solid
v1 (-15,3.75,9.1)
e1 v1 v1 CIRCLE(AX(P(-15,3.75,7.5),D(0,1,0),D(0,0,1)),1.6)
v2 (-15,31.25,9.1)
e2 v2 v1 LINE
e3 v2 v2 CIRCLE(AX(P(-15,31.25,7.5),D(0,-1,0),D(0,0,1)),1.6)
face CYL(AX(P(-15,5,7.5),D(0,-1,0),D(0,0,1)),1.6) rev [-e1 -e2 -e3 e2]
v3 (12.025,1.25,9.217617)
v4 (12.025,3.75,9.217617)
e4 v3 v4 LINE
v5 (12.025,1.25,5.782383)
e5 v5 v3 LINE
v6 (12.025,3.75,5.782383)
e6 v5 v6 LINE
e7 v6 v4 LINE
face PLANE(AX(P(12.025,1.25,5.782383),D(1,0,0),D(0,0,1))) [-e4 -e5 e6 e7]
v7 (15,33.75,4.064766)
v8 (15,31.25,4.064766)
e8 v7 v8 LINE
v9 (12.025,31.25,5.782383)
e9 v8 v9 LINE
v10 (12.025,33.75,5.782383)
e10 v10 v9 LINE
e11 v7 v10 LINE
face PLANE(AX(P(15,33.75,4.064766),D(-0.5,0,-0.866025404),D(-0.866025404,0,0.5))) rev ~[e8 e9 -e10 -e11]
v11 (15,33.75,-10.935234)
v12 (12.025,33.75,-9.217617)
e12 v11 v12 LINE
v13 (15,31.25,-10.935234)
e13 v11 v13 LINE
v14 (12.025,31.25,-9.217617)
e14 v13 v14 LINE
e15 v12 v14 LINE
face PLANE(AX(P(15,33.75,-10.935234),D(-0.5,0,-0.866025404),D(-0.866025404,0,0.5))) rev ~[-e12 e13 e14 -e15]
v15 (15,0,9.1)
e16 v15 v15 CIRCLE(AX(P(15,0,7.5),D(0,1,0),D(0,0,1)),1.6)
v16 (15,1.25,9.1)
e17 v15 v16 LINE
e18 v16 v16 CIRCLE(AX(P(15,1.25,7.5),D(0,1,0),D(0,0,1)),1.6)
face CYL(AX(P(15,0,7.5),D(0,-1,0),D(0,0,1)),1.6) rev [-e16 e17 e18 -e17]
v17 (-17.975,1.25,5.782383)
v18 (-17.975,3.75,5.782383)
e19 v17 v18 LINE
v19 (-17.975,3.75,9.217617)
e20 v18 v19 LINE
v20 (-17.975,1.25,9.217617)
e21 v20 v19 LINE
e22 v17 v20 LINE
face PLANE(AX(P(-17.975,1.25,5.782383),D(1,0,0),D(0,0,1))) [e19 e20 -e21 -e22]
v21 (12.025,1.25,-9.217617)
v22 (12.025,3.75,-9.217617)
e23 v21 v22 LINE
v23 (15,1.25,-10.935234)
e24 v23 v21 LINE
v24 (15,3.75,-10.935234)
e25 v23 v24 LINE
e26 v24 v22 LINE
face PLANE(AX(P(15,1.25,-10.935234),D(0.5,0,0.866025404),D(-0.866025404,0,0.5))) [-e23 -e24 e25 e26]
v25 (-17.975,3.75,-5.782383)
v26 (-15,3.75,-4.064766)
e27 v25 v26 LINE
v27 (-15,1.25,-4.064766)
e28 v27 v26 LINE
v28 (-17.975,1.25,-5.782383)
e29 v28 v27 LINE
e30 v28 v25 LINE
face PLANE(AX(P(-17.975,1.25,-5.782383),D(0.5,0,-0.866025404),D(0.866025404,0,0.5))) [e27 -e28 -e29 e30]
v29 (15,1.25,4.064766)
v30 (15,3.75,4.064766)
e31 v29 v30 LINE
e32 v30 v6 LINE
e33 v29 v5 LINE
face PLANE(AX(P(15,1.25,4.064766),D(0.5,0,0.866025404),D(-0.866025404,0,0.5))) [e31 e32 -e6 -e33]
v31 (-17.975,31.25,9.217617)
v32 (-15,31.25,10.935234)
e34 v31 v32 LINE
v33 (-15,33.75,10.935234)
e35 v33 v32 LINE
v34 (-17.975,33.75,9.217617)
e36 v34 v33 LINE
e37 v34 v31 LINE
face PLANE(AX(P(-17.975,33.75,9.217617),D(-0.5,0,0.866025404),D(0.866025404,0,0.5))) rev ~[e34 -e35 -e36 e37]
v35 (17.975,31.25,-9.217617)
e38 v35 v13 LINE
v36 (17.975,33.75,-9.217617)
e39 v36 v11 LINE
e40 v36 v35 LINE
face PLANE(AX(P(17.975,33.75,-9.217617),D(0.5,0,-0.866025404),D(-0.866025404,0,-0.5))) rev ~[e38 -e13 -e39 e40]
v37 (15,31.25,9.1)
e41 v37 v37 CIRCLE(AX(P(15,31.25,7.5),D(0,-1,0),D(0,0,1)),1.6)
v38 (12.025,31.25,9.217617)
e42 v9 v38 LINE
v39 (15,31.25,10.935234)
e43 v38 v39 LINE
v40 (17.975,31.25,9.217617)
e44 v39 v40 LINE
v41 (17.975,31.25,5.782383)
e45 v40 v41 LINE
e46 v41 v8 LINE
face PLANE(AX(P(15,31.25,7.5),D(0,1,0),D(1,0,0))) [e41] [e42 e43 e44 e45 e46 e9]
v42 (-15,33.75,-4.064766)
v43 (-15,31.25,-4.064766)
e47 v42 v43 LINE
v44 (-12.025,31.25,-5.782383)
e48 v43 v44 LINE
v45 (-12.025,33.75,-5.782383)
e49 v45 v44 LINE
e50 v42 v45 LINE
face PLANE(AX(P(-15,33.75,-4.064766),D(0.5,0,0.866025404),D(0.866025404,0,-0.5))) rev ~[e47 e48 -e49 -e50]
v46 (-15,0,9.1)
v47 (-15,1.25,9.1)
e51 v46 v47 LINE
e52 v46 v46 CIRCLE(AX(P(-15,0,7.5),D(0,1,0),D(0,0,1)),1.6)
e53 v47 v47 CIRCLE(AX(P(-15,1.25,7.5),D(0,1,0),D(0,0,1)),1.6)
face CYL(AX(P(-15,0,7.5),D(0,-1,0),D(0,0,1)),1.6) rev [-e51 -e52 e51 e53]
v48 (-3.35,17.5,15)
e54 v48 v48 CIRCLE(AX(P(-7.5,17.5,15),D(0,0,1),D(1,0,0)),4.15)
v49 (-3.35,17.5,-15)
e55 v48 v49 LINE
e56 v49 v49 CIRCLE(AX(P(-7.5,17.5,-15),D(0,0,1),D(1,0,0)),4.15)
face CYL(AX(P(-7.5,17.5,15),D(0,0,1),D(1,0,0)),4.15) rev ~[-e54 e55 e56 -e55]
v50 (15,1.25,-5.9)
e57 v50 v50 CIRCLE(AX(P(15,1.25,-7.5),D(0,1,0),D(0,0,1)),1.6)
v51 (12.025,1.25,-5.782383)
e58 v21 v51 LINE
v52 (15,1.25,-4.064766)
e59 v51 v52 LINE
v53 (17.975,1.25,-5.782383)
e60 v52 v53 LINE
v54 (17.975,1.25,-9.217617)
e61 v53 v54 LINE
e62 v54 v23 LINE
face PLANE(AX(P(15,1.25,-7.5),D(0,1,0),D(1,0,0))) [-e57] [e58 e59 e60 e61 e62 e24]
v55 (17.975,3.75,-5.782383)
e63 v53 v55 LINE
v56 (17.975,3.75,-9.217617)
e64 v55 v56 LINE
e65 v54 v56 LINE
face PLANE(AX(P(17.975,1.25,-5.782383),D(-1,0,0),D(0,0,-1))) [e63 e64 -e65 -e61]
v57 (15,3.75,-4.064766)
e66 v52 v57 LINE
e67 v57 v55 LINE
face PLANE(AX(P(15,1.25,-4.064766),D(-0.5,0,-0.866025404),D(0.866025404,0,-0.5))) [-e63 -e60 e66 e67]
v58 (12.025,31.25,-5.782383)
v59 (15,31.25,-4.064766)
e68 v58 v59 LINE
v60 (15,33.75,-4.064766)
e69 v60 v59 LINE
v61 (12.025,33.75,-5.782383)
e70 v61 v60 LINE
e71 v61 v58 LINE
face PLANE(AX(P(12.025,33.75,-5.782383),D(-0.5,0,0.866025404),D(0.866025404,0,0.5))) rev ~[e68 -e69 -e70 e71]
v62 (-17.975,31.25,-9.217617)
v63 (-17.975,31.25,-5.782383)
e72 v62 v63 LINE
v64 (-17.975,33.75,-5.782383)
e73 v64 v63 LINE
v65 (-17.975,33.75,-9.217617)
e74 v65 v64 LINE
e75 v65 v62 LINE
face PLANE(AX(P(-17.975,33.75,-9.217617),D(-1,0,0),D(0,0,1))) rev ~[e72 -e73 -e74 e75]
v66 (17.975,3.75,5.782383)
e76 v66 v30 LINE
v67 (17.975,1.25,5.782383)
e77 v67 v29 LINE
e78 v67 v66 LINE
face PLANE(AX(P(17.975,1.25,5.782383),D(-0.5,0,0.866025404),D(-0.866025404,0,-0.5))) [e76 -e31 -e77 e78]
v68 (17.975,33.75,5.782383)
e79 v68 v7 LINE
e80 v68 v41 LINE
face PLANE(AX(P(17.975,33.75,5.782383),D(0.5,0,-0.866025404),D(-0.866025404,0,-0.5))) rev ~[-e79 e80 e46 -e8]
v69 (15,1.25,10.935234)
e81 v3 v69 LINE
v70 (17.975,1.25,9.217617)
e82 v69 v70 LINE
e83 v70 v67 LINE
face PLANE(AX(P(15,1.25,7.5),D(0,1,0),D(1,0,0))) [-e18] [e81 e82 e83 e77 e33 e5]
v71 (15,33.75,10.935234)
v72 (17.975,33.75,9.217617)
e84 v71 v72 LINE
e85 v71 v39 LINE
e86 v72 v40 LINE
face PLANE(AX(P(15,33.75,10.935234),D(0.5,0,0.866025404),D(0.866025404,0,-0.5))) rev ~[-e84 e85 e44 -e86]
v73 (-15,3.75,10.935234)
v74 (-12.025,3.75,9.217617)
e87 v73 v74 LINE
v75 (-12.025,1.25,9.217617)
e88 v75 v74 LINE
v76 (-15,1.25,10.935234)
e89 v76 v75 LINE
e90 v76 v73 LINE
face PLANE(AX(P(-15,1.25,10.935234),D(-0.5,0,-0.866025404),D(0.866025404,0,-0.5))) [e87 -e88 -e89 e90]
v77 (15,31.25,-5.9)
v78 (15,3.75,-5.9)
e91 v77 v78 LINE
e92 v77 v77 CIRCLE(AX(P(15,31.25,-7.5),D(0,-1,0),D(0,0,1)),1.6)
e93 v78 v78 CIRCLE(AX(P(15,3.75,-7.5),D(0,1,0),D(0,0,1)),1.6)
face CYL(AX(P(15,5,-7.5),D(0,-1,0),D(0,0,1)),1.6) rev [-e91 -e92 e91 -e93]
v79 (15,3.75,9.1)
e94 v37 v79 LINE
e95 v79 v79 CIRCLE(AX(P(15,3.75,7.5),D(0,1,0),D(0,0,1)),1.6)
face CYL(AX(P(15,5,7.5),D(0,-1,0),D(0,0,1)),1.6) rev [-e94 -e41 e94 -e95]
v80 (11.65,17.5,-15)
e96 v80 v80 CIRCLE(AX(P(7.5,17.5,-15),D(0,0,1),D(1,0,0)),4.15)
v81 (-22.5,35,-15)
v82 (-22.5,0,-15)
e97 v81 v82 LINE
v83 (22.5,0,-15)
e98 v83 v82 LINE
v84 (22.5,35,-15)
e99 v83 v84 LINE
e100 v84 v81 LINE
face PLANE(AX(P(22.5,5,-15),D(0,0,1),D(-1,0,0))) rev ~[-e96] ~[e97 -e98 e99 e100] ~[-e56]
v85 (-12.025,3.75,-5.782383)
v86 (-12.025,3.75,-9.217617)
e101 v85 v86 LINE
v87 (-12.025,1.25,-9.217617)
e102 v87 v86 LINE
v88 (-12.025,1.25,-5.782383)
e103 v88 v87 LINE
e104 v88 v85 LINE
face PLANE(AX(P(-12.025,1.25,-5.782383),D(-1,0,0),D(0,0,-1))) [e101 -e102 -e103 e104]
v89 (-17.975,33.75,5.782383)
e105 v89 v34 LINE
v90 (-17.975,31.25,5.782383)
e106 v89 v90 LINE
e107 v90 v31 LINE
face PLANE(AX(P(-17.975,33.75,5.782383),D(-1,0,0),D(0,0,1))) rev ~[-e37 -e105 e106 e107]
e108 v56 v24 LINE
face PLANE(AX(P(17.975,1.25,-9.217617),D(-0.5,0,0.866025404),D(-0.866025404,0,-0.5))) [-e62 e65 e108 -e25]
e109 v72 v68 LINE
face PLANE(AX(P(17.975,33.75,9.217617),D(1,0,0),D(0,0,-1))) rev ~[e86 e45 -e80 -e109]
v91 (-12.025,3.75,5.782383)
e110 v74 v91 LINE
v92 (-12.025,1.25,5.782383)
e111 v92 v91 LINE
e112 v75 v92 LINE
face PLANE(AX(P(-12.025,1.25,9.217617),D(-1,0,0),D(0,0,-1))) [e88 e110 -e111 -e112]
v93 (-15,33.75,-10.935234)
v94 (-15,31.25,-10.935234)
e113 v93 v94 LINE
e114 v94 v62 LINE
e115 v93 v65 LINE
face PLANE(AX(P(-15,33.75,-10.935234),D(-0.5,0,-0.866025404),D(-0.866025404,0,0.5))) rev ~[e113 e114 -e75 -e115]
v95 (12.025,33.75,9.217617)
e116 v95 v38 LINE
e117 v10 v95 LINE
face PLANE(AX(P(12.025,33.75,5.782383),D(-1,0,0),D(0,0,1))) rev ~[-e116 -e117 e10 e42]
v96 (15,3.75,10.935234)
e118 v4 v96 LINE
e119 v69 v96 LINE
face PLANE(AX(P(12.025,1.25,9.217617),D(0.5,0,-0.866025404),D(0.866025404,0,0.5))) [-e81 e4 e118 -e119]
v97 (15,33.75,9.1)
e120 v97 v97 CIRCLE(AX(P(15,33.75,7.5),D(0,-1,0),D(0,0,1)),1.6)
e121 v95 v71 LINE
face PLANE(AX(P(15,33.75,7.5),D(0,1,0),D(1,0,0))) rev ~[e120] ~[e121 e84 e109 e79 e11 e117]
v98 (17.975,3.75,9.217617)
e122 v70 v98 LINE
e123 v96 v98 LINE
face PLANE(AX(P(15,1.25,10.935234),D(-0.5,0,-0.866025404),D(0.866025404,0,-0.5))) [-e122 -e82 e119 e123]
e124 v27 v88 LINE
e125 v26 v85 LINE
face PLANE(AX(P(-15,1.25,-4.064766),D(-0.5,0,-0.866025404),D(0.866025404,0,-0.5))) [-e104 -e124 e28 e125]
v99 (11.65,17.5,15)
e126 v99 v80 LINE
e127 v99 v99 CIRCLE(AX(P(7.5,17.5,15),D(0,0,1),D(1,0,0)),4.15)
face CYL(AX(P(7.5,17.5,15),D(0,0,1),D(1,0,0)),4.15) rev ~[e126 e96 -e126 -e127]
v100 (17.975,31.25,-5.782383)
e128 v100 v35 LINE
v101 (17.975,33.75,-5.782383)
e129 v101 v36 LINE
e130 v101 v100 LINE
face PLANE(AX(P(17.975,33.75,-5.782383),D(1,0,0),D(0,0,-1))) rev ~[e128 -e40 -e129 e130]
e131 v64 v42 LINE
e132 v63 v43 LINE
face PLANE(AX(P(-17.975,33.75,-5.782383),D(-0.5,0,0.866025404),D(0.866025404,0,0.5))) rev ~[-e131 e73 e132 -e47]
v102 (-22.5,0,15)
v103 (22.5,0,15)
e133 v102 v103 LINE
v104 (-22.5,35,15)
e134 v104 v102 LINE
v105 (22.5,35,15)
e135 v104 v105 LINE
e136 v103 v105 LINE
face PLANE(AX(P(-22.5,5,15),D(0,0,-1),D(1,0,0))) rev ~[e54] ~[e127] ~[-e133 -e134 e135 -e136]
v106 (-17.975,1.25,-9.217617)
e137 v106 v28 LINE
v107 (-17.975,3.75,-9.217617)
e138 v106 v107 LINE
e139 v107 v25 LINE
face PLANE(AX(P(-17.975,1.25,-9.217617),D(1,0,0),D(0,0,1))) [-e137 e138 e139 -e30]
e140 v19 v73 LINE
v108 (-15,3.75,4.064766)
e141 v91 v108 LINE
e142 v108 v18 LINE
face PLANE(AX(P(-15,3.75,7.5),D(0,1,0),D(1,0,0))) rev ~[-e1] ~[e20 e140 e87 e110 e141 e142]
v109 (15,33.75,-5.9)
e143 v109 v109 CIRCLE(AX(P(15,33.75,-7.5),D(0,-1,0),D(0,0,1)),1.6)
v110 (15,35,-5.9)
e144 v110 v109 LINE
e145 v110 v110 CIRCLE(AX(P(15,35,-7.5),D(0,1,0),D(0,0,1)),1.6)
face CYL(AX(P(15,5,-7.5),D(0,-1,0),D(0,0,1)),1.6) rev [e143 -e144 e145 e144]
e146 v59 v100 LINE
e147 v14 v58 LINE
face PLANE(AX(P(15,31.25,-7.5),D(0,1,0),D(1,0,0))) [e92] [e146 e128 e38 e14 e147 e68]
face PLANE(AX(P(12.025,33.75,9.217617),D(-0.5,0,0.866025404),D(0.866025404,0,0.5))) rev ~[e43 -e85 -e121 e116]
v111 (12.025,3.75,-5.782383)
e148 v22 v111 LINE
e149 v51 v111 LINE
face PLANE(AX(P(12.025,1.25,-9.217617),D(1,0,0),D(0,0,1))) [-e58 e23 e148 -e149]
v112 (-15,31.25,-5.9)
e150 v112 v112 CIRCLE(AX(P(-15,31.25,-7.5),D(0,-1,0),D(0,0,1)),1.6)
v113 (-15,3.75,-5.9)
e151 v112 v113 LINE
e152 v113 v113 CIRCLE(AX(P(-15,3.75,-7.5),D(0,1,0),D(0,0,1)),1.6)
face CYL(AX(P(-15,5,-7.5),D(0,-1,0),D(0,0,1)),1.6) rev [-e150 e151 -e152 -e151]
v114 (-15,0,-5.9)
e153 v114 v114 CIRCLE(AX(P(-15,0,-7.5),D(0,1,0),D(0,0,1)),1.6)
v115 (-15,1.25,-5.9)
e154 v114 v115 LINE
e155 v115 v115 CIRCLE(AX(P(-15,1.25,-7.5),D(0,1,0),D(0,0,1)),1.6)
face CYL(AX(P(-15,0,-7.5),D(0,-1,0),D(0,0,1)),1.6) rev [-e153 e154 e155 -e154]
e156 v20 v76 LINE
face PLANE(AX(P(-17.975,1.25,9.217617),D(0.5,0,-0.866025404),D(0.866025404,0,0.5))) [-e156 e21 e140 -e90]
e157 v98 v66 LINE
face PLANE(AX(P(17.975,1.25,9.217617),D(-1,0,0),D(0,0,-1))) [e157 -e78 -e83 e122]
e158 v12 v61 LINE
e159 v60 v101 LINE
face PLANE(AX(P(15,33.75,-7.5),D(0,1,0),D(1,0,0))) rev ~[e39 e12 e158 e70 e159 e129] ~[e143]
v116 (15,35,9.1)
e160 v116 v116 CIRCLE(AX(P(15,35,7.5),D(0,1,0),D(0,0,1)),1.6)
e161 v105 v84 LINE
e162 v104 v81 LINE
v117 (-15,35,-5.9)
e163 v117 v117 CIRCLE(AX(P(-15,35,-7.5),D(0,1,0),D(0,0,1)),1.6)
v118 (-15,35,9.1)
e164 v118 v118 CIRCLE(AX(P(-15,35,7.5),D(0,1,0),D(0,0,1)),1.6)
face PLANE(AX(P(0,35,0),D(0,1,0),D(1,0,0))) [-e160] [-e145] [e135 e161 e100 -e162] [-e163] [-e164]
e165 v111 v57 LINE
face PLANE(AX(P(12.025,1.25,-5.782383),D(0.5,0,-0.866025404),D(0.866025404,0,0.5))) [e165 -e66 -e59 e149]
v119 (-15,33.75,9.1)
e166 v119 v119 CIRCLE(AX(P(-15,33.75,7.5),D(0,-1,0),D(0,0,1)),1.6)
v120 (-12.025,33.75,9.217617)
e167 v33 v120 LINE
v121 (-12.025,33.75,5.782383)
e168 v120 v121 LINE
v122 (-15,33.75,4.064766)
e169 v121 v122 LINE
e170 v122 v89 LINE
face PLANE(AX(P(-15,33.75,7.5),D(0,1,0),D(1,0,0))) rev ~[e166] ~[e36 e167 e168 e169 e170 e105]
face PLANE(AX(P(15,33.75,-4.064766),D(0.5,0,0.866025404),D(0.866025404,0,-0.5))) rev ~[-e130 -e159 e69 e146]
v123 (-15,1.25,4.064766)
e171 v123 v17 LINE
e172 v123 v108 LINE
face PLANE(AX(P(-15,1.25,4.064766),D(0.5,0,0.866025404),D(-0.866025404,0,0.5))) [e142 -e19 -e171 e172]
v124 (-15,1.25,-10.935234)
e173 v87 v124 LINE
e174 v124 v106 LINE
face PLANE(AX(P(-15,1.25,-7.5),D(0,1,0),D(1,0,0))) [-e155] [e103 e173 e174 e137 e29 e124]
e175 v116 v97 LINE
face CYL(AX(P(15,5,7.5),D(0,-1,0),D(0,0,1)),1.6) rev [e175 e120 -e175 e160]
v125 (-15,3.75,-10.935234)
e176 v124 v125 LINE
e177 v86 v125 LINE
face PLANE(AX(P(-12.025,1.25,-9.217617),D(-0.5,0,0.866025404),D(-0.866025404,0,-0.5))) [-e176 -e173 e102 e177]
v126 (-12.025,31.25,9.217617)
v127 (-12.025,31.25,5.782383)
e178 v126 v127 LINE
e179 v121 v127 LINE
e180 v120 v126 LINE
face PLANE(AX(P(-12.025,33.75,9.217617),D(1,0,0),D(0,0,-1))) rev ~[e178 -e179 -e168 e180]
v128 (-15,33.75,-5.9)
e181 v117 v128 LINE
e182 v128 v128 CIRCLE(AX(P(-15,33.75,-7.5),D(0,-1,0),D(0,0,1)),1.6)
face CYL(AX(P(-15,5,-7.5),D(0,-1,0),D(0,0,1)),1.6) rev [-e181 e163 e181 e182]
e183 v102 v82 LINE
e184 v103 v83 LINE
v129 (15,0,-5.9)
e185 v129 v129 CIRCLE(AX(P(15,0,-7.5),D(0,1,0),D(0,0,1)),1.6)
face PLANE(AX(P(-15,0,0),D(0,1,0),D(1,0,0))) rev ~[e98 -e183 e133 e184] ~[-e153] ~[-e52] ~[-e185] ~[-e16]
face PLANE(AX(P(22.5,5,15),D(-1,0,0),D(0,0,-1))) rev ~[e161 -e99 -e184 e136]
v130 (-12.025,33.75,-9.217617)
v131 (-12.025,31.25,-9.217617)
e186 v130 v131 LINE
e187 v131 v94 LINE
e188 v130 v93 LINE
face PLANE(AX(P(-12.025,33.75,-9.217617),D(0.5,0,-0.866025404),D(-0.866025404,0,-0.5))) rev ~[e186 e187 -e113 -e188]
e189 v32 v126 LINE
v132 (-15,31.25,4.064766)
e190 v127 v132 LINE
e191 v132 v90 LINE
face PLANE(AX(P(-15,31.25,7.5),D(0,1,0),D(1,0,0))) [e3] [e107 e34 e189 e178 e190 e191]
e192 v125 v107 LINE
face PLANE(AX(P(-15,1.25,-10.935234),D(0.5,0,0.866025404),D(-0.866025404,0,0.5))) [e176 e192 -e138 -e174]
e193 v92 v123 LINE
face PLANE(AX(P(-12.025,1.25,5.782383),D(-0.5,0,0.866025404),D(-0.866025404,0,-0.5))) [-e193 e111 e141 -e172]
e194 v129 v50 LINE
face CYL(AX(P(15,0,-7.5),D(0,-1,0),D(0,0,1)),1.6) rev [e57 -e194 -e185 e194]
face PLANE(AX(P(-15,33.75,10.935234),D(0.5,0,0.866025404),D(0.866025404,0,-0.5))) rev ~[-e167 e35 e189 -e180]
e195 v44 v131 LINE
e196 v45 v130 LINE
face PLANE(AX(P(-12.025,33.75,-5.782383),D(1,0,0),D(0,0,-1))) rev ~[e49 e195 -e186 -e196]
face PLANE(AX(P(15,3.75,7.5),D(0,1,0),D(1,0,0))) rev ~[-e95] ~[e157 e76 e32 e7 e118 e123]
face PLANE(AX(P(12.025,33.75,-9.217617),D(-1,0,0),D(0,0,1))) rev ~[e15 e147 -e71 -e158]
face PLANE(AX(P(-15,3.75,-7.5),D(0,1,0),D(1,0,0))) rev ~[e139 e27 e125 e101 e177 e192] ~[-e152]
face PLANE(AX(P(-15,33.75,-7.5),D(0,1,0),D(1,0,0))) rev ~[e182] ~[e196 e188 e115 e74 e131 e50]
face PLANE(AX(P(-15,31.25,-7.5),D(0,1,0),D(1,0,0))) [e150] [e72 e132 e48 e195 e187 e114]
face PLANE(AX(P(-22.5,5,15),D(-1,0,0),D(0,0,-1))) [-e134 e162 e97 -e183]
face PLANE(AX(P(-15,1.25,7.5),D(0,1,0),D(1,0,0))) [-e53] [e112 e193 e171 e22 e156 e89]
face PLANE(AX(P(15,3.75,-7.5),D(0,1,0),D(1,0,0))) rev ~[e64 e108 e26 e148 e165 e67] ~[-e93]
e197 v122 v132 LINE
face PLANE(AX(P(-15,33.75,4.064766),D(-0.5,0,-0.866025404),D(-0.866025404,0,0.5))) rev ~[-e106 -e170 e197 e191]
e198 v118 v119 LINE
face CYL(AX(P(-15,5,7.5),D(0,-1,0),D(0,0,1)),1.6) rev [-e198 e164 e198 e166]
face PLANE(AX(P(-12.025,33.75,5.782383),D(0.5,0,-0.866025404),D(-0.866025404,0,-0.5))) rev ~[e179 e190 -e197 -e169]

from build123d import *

# Parameters (mm, degrees)
SKETCH1_W           = 15
SKETCH1_H           = 30
SKETCH1_R           = 1.6
BOSS_EXTRUDE1_DEPTH = 5
CUT_EXTRUDE1_START  = 1.25
SKETCH1_3_R         = 1.6
CUT_EXTRUDE1_DEPTH  = 2.5
BOSS_EXTRUDE2_START = 5
SKETCH1_4_W         = 15
SKETCH1_4_H         = 30
SKETCH1_4_R         = 1.6
BOSS_EXTRUDE2_DEPTH = 30
SKETCH5_R           = 4.15
CUT_EXTRUDE2_DEPTH  = 52.295711322
CUT_EXTRUDE3_START  = -1.25
CUT_EXTRUDE3_DEPTH  = 2.5


with BuildPart() as part:
    # Sketch1 → Boss-Extrude1 (new body)
    with BuildSketch(Plane(origin=(0, 0, 0), x_dir=(1, 0, 0), z_dir=(0, 1, 0))):
        with Locations((-15, 0)):
            Rectangle(SKETCH1_W, SKETCH1_H)
        Polygon((-12.025, -5.782382949), (-15, -4.064765898), (-17.975, -5.782382949), (-17.975, -9.217617051), (-15, -10.935234102), (-12.025, -9.217617051), align=None, mode=Mode.SUBTRACT)
        Polygon((-12.025, 9.217617051), (-15, 10.935234102), (-17.975, 9.217617051), (-17.975, 5.782382949), (-15, 4.064765898), (-12.025, 5.782382949), align=None, mode=Mode.SUBTRACT)
        Rectangle(SKETCH1_W, SKETCH1_H)
        with Locations((15, 0)):
            Rectangle(SKETCH1_W, SKETCH1_H)
        Polygon((17.975, -5.782382949), (15, -4.064765898), (12.025, -5.782382949), (12.025, -9.217617051), (15, -10.935234102), (17.975, -9.217617051), align=None, mode=Mode.SUBTRACT)
        Polygon((17.975, 9.217617051), (15, 10.935234102), (12.025, 9.217617051), (12.025, 5.782382949), (15, 4.064765898), (17.975, 5.782382949), align=None, mode=Mode.SUBTRACT)
        Polygon((-12.025, -9.217617051), (-12.025, -5.782382949), (-15, -4.064765898), (-17.975, -5.782382949), (-17.975, -9.217617051), (-15, -10.935234102), align=None)
        with Locations(Location((-15, -7.5, 0), (0, 0, 270))):
            Circle(SKETCH1_R, mode=Mode.SUBTRACT)
        Polygon((-12.025, 5.782382949), (-12.025, 9.217617051), (-15, 10.935234102), (-17.975, 9.217617051), (-17.975, 5.782382949), (-15, 4.064765898), align=None)
        with Locations(Location((-15, 7.5, 0), (0, 0, 270))):
            Circle(SKETCH1_R, mode=Mode.SUBTRACT)
        Polygon((17.975, 5.782382949), (17.975, 9.217617051), (15, 10.935234102), (12.025, 9.217617051), (12.025, 5.782382949), (15, 4.064765898), align=None)
        with Locations(Location((15, 7.5, 0), (0, 0, 270))):
            Circle(SKETCH1_R, mode=Mode.SUBTRACT)
        Polygon((17.975, -9.217617051), (17.975, -5.782382949), (15, -4.064765898), (12.025, -5.782382949), (12.025, -9.217617051), (15, -10.935234102), align=None)
        with Locations(Location((15, -7.5, 0), (0, 0, 270))):
            Circle(SKETCH1_R, mode=Mode.SUBTRACT)
    extrude(amount=BOSS_EXTRUDE1_DEPTH)

    # Sketch1<3> → Cut-Extrude1 (cut)
    with BuildSketch(Plane(origin=(0, 0, 0), x_dir=(1, 0, 0), z_dir=(0, 1, 0)).offset(CUT_EXTRUDE1_START)):
        Polygon((-12.025, 5.782382949), (-12.025, 9.217617051), (-15, 10.935234102), (-17.975, 9.217617051), (-17.975, 5.782382949), (-15, 4.064765898), align=None)
        with Locations(Location((-15, 7.5, 0), (0, 0, 270))):
            Circle(SKETCH1_3_R, mode=Mode.SUBTRACT)
        Polygon((-12.025, -9.217617051), (-12.025, -5.782382949), (-15, -4.064765898), (-17.975, -5.782382949), (-17.975, -9.217617051), (-15, -10.935234102), align=None)
        with Locations(Location((-15, -7.5, 0), (0, 0, 270))):
            Circle(SKETCH1_3_R, mode=Mode.SUBTRACT)
        Polygon((17.975, -9.217617051), (17.975, -5.782382949), (15, -4.064765898), (12.025, -5.782382949), (12.025, -9.217617051), (15, -10.935234102), align=None)
        with Locations(Location((15, -7.5, 0), (0, 0, 270))):
            Circle(SKETCH1_3_R, mode=Mode.SUBTRACT)
        Polygon((17.975, 5.782382949), (17.975, 9.217617051), (15, 10.935234102), (12.025, 9.217617051), (12.025, 5.782382949), (15, 4.064765898), align=None)
        with Locations(Location((15, 7.5, 0), (0, 0, 270))):
            Circle(SKETCH1_3_R, mode=Mode.SUBTRACT)
    extrude(amount=CUT_EXTRUDE1_DEPTH, mode=Mode.SUBTRACT)

    # Sketch1<4> → Boss-Extrude2 (add)
    with BuildSketch(Plane(origin=(0, 0, 0), x_dir=(1, 0, 0), z_dir=(0, 1, 0)).offset(BOSS_EXTRUDE2_START)):
        Rectangle(SKETCH1_4_W, SKETCH1_4_H)
        with Locations((-15, 0)):
            Rectangle(SKETCH1_4_W, SKETCH1_4_H)
        Polygon((-12.025, -5.782382949), (-15, -4.064765898), (-17.975, -5.782382949), (-17.975, -9.217617051), (-15, -10.935234102), (-12.025, -9.217617051), align=None, mode=Mode.SUBTRACT)
        Polygon((-12.025, 9.217617051), (-15, 10.935234102), (-17.975, 9.217617051), (-17.975, 5.782382949), (-15, 4.064765898), (-12.025, 5.782382949), align=None, mode=Mode.SUBTRACT)
        Polygon((-12.025, -9.217617051), (-12.025, -5.782382949), (-15, -4.064765898), (-17.975, -5.782382949), (-17.975, -9.217617051), (-15, -10.935234102), align=None)
        with Locations(Location((-15, -7.5, 0), (0, 0, 270))):
            Circle(SKETCH1_4_R, mode=Mode.SUBTRACT)
        Polygon((-12.025, 5.782382949), (-12.025, 9.217617051), (-15, 10.935234102), (-17.975, 9.217617051), (-17.975, 5.782382949), (-15, 4.064765898), align=None)
        with Locations(Location((-15, 7.5, 0), (0, 0, 270))):
            Circle(SKETCH1_4_R, mode=Mode.SUBTRACT)
        with Locations((15, 0)):
            Rectangle(SKETCH1_4_W, SKETCH1_4_H)
        Polygon((17.975, -5.782382949), (15, -4.064765898), (12.025, -5.782382949), (12.025, -9.217617051), (15, -10.935234102), (17.975, -9.217617051), align=None, mode=Mode.SUBTRACT)
        Polygon((17.975, 9.217617051), (15, 10.935234102), (12.025, 9.217617051), (12.025, 5.782382949), (15, 4.064765898), (17.975, 5.782382949), align=None, mode=Mode.SUBTRACT)
        Polygon((17.975, -9.217617051), (17.975, -5.782382949), (15, -4.064765898), (12.025, -5.782382949), (12.025, -9.217617051), (15, -10.935234102), align=None)
        with Locations(Location((15, -7.5, 0), (0, 0, 270))):
            Circle(SKETCH1_4_R, mode=Mode.SUBTRACT)
        Polygon((17.975, 5.782382949), (17.975, 9.217617051), (15, 10.935234102), (12.025, 9.217617051), (12.025, 5.782382949), (15, 4.064765898), align=None)
        with Locations(Location((15, 7.5, 0), (0, 0, 270))):
            Circle(SKETCH1_4_R, mode=Mode.SUBTRACT)
    extrude(amount=BOSS_EXTRUDE2_DEPTH)

    # Sketch5 → Cut-Extrude2 (cut, through all)
    with BuildSketch(Plane.XY.offset(15)):
        with Locations((-7.5, 17.5)):
            Circle(SKETCH5_R)
        with Locations((7.5, 17.5)):
            Circle(SKETCH5_R)
    extrude(amount=-CUT_EXTRUDE2_DEPTH, mode=Mode.SUBTRACT)

    # Sketch6 → Cut-Extrude3 (cut)
    with BuildSketch(Plane(origin=(0, 35, 0), x_dir=(1, 0, 0), z_dir=(0, 1, 0)).offset(CUT_EXTRUDE3_START)):
        Polygon((-15, 10.935234102), (-17.975, 9.217617051), (-17.975, 5.782382949), (-15, 4.064765898), (-12.025, 5.782382949), (-12.025, 9.217617051), align=None)
        Polygon((15, 10.935234102), (12.025, 9.217617051), (12.025, 5.782382949), (15, 4.064765898), (17.975, 5.782382949), (17.975, 9.217617051), align=None)
        Polygon((15, -4.064765898), (12.025, -5.782382949), (12.025, -9.217617051), (15, -10.935234102), (17.975, -9.217617051), (17.975, -5.782382949), align=None)
        Polygon((-15, -4.064765898), (-17.975, -5.782382949), (-17.975, -9.217617051), (-15, -10.935234102), (-12.025, -9.217617051), (-12.025, -5.782382949), align=None)
    extrude(amount=-CUT_EXTRUDE3_DEPTH, mode=Mode.SUBTRACT)


solid = part.part
